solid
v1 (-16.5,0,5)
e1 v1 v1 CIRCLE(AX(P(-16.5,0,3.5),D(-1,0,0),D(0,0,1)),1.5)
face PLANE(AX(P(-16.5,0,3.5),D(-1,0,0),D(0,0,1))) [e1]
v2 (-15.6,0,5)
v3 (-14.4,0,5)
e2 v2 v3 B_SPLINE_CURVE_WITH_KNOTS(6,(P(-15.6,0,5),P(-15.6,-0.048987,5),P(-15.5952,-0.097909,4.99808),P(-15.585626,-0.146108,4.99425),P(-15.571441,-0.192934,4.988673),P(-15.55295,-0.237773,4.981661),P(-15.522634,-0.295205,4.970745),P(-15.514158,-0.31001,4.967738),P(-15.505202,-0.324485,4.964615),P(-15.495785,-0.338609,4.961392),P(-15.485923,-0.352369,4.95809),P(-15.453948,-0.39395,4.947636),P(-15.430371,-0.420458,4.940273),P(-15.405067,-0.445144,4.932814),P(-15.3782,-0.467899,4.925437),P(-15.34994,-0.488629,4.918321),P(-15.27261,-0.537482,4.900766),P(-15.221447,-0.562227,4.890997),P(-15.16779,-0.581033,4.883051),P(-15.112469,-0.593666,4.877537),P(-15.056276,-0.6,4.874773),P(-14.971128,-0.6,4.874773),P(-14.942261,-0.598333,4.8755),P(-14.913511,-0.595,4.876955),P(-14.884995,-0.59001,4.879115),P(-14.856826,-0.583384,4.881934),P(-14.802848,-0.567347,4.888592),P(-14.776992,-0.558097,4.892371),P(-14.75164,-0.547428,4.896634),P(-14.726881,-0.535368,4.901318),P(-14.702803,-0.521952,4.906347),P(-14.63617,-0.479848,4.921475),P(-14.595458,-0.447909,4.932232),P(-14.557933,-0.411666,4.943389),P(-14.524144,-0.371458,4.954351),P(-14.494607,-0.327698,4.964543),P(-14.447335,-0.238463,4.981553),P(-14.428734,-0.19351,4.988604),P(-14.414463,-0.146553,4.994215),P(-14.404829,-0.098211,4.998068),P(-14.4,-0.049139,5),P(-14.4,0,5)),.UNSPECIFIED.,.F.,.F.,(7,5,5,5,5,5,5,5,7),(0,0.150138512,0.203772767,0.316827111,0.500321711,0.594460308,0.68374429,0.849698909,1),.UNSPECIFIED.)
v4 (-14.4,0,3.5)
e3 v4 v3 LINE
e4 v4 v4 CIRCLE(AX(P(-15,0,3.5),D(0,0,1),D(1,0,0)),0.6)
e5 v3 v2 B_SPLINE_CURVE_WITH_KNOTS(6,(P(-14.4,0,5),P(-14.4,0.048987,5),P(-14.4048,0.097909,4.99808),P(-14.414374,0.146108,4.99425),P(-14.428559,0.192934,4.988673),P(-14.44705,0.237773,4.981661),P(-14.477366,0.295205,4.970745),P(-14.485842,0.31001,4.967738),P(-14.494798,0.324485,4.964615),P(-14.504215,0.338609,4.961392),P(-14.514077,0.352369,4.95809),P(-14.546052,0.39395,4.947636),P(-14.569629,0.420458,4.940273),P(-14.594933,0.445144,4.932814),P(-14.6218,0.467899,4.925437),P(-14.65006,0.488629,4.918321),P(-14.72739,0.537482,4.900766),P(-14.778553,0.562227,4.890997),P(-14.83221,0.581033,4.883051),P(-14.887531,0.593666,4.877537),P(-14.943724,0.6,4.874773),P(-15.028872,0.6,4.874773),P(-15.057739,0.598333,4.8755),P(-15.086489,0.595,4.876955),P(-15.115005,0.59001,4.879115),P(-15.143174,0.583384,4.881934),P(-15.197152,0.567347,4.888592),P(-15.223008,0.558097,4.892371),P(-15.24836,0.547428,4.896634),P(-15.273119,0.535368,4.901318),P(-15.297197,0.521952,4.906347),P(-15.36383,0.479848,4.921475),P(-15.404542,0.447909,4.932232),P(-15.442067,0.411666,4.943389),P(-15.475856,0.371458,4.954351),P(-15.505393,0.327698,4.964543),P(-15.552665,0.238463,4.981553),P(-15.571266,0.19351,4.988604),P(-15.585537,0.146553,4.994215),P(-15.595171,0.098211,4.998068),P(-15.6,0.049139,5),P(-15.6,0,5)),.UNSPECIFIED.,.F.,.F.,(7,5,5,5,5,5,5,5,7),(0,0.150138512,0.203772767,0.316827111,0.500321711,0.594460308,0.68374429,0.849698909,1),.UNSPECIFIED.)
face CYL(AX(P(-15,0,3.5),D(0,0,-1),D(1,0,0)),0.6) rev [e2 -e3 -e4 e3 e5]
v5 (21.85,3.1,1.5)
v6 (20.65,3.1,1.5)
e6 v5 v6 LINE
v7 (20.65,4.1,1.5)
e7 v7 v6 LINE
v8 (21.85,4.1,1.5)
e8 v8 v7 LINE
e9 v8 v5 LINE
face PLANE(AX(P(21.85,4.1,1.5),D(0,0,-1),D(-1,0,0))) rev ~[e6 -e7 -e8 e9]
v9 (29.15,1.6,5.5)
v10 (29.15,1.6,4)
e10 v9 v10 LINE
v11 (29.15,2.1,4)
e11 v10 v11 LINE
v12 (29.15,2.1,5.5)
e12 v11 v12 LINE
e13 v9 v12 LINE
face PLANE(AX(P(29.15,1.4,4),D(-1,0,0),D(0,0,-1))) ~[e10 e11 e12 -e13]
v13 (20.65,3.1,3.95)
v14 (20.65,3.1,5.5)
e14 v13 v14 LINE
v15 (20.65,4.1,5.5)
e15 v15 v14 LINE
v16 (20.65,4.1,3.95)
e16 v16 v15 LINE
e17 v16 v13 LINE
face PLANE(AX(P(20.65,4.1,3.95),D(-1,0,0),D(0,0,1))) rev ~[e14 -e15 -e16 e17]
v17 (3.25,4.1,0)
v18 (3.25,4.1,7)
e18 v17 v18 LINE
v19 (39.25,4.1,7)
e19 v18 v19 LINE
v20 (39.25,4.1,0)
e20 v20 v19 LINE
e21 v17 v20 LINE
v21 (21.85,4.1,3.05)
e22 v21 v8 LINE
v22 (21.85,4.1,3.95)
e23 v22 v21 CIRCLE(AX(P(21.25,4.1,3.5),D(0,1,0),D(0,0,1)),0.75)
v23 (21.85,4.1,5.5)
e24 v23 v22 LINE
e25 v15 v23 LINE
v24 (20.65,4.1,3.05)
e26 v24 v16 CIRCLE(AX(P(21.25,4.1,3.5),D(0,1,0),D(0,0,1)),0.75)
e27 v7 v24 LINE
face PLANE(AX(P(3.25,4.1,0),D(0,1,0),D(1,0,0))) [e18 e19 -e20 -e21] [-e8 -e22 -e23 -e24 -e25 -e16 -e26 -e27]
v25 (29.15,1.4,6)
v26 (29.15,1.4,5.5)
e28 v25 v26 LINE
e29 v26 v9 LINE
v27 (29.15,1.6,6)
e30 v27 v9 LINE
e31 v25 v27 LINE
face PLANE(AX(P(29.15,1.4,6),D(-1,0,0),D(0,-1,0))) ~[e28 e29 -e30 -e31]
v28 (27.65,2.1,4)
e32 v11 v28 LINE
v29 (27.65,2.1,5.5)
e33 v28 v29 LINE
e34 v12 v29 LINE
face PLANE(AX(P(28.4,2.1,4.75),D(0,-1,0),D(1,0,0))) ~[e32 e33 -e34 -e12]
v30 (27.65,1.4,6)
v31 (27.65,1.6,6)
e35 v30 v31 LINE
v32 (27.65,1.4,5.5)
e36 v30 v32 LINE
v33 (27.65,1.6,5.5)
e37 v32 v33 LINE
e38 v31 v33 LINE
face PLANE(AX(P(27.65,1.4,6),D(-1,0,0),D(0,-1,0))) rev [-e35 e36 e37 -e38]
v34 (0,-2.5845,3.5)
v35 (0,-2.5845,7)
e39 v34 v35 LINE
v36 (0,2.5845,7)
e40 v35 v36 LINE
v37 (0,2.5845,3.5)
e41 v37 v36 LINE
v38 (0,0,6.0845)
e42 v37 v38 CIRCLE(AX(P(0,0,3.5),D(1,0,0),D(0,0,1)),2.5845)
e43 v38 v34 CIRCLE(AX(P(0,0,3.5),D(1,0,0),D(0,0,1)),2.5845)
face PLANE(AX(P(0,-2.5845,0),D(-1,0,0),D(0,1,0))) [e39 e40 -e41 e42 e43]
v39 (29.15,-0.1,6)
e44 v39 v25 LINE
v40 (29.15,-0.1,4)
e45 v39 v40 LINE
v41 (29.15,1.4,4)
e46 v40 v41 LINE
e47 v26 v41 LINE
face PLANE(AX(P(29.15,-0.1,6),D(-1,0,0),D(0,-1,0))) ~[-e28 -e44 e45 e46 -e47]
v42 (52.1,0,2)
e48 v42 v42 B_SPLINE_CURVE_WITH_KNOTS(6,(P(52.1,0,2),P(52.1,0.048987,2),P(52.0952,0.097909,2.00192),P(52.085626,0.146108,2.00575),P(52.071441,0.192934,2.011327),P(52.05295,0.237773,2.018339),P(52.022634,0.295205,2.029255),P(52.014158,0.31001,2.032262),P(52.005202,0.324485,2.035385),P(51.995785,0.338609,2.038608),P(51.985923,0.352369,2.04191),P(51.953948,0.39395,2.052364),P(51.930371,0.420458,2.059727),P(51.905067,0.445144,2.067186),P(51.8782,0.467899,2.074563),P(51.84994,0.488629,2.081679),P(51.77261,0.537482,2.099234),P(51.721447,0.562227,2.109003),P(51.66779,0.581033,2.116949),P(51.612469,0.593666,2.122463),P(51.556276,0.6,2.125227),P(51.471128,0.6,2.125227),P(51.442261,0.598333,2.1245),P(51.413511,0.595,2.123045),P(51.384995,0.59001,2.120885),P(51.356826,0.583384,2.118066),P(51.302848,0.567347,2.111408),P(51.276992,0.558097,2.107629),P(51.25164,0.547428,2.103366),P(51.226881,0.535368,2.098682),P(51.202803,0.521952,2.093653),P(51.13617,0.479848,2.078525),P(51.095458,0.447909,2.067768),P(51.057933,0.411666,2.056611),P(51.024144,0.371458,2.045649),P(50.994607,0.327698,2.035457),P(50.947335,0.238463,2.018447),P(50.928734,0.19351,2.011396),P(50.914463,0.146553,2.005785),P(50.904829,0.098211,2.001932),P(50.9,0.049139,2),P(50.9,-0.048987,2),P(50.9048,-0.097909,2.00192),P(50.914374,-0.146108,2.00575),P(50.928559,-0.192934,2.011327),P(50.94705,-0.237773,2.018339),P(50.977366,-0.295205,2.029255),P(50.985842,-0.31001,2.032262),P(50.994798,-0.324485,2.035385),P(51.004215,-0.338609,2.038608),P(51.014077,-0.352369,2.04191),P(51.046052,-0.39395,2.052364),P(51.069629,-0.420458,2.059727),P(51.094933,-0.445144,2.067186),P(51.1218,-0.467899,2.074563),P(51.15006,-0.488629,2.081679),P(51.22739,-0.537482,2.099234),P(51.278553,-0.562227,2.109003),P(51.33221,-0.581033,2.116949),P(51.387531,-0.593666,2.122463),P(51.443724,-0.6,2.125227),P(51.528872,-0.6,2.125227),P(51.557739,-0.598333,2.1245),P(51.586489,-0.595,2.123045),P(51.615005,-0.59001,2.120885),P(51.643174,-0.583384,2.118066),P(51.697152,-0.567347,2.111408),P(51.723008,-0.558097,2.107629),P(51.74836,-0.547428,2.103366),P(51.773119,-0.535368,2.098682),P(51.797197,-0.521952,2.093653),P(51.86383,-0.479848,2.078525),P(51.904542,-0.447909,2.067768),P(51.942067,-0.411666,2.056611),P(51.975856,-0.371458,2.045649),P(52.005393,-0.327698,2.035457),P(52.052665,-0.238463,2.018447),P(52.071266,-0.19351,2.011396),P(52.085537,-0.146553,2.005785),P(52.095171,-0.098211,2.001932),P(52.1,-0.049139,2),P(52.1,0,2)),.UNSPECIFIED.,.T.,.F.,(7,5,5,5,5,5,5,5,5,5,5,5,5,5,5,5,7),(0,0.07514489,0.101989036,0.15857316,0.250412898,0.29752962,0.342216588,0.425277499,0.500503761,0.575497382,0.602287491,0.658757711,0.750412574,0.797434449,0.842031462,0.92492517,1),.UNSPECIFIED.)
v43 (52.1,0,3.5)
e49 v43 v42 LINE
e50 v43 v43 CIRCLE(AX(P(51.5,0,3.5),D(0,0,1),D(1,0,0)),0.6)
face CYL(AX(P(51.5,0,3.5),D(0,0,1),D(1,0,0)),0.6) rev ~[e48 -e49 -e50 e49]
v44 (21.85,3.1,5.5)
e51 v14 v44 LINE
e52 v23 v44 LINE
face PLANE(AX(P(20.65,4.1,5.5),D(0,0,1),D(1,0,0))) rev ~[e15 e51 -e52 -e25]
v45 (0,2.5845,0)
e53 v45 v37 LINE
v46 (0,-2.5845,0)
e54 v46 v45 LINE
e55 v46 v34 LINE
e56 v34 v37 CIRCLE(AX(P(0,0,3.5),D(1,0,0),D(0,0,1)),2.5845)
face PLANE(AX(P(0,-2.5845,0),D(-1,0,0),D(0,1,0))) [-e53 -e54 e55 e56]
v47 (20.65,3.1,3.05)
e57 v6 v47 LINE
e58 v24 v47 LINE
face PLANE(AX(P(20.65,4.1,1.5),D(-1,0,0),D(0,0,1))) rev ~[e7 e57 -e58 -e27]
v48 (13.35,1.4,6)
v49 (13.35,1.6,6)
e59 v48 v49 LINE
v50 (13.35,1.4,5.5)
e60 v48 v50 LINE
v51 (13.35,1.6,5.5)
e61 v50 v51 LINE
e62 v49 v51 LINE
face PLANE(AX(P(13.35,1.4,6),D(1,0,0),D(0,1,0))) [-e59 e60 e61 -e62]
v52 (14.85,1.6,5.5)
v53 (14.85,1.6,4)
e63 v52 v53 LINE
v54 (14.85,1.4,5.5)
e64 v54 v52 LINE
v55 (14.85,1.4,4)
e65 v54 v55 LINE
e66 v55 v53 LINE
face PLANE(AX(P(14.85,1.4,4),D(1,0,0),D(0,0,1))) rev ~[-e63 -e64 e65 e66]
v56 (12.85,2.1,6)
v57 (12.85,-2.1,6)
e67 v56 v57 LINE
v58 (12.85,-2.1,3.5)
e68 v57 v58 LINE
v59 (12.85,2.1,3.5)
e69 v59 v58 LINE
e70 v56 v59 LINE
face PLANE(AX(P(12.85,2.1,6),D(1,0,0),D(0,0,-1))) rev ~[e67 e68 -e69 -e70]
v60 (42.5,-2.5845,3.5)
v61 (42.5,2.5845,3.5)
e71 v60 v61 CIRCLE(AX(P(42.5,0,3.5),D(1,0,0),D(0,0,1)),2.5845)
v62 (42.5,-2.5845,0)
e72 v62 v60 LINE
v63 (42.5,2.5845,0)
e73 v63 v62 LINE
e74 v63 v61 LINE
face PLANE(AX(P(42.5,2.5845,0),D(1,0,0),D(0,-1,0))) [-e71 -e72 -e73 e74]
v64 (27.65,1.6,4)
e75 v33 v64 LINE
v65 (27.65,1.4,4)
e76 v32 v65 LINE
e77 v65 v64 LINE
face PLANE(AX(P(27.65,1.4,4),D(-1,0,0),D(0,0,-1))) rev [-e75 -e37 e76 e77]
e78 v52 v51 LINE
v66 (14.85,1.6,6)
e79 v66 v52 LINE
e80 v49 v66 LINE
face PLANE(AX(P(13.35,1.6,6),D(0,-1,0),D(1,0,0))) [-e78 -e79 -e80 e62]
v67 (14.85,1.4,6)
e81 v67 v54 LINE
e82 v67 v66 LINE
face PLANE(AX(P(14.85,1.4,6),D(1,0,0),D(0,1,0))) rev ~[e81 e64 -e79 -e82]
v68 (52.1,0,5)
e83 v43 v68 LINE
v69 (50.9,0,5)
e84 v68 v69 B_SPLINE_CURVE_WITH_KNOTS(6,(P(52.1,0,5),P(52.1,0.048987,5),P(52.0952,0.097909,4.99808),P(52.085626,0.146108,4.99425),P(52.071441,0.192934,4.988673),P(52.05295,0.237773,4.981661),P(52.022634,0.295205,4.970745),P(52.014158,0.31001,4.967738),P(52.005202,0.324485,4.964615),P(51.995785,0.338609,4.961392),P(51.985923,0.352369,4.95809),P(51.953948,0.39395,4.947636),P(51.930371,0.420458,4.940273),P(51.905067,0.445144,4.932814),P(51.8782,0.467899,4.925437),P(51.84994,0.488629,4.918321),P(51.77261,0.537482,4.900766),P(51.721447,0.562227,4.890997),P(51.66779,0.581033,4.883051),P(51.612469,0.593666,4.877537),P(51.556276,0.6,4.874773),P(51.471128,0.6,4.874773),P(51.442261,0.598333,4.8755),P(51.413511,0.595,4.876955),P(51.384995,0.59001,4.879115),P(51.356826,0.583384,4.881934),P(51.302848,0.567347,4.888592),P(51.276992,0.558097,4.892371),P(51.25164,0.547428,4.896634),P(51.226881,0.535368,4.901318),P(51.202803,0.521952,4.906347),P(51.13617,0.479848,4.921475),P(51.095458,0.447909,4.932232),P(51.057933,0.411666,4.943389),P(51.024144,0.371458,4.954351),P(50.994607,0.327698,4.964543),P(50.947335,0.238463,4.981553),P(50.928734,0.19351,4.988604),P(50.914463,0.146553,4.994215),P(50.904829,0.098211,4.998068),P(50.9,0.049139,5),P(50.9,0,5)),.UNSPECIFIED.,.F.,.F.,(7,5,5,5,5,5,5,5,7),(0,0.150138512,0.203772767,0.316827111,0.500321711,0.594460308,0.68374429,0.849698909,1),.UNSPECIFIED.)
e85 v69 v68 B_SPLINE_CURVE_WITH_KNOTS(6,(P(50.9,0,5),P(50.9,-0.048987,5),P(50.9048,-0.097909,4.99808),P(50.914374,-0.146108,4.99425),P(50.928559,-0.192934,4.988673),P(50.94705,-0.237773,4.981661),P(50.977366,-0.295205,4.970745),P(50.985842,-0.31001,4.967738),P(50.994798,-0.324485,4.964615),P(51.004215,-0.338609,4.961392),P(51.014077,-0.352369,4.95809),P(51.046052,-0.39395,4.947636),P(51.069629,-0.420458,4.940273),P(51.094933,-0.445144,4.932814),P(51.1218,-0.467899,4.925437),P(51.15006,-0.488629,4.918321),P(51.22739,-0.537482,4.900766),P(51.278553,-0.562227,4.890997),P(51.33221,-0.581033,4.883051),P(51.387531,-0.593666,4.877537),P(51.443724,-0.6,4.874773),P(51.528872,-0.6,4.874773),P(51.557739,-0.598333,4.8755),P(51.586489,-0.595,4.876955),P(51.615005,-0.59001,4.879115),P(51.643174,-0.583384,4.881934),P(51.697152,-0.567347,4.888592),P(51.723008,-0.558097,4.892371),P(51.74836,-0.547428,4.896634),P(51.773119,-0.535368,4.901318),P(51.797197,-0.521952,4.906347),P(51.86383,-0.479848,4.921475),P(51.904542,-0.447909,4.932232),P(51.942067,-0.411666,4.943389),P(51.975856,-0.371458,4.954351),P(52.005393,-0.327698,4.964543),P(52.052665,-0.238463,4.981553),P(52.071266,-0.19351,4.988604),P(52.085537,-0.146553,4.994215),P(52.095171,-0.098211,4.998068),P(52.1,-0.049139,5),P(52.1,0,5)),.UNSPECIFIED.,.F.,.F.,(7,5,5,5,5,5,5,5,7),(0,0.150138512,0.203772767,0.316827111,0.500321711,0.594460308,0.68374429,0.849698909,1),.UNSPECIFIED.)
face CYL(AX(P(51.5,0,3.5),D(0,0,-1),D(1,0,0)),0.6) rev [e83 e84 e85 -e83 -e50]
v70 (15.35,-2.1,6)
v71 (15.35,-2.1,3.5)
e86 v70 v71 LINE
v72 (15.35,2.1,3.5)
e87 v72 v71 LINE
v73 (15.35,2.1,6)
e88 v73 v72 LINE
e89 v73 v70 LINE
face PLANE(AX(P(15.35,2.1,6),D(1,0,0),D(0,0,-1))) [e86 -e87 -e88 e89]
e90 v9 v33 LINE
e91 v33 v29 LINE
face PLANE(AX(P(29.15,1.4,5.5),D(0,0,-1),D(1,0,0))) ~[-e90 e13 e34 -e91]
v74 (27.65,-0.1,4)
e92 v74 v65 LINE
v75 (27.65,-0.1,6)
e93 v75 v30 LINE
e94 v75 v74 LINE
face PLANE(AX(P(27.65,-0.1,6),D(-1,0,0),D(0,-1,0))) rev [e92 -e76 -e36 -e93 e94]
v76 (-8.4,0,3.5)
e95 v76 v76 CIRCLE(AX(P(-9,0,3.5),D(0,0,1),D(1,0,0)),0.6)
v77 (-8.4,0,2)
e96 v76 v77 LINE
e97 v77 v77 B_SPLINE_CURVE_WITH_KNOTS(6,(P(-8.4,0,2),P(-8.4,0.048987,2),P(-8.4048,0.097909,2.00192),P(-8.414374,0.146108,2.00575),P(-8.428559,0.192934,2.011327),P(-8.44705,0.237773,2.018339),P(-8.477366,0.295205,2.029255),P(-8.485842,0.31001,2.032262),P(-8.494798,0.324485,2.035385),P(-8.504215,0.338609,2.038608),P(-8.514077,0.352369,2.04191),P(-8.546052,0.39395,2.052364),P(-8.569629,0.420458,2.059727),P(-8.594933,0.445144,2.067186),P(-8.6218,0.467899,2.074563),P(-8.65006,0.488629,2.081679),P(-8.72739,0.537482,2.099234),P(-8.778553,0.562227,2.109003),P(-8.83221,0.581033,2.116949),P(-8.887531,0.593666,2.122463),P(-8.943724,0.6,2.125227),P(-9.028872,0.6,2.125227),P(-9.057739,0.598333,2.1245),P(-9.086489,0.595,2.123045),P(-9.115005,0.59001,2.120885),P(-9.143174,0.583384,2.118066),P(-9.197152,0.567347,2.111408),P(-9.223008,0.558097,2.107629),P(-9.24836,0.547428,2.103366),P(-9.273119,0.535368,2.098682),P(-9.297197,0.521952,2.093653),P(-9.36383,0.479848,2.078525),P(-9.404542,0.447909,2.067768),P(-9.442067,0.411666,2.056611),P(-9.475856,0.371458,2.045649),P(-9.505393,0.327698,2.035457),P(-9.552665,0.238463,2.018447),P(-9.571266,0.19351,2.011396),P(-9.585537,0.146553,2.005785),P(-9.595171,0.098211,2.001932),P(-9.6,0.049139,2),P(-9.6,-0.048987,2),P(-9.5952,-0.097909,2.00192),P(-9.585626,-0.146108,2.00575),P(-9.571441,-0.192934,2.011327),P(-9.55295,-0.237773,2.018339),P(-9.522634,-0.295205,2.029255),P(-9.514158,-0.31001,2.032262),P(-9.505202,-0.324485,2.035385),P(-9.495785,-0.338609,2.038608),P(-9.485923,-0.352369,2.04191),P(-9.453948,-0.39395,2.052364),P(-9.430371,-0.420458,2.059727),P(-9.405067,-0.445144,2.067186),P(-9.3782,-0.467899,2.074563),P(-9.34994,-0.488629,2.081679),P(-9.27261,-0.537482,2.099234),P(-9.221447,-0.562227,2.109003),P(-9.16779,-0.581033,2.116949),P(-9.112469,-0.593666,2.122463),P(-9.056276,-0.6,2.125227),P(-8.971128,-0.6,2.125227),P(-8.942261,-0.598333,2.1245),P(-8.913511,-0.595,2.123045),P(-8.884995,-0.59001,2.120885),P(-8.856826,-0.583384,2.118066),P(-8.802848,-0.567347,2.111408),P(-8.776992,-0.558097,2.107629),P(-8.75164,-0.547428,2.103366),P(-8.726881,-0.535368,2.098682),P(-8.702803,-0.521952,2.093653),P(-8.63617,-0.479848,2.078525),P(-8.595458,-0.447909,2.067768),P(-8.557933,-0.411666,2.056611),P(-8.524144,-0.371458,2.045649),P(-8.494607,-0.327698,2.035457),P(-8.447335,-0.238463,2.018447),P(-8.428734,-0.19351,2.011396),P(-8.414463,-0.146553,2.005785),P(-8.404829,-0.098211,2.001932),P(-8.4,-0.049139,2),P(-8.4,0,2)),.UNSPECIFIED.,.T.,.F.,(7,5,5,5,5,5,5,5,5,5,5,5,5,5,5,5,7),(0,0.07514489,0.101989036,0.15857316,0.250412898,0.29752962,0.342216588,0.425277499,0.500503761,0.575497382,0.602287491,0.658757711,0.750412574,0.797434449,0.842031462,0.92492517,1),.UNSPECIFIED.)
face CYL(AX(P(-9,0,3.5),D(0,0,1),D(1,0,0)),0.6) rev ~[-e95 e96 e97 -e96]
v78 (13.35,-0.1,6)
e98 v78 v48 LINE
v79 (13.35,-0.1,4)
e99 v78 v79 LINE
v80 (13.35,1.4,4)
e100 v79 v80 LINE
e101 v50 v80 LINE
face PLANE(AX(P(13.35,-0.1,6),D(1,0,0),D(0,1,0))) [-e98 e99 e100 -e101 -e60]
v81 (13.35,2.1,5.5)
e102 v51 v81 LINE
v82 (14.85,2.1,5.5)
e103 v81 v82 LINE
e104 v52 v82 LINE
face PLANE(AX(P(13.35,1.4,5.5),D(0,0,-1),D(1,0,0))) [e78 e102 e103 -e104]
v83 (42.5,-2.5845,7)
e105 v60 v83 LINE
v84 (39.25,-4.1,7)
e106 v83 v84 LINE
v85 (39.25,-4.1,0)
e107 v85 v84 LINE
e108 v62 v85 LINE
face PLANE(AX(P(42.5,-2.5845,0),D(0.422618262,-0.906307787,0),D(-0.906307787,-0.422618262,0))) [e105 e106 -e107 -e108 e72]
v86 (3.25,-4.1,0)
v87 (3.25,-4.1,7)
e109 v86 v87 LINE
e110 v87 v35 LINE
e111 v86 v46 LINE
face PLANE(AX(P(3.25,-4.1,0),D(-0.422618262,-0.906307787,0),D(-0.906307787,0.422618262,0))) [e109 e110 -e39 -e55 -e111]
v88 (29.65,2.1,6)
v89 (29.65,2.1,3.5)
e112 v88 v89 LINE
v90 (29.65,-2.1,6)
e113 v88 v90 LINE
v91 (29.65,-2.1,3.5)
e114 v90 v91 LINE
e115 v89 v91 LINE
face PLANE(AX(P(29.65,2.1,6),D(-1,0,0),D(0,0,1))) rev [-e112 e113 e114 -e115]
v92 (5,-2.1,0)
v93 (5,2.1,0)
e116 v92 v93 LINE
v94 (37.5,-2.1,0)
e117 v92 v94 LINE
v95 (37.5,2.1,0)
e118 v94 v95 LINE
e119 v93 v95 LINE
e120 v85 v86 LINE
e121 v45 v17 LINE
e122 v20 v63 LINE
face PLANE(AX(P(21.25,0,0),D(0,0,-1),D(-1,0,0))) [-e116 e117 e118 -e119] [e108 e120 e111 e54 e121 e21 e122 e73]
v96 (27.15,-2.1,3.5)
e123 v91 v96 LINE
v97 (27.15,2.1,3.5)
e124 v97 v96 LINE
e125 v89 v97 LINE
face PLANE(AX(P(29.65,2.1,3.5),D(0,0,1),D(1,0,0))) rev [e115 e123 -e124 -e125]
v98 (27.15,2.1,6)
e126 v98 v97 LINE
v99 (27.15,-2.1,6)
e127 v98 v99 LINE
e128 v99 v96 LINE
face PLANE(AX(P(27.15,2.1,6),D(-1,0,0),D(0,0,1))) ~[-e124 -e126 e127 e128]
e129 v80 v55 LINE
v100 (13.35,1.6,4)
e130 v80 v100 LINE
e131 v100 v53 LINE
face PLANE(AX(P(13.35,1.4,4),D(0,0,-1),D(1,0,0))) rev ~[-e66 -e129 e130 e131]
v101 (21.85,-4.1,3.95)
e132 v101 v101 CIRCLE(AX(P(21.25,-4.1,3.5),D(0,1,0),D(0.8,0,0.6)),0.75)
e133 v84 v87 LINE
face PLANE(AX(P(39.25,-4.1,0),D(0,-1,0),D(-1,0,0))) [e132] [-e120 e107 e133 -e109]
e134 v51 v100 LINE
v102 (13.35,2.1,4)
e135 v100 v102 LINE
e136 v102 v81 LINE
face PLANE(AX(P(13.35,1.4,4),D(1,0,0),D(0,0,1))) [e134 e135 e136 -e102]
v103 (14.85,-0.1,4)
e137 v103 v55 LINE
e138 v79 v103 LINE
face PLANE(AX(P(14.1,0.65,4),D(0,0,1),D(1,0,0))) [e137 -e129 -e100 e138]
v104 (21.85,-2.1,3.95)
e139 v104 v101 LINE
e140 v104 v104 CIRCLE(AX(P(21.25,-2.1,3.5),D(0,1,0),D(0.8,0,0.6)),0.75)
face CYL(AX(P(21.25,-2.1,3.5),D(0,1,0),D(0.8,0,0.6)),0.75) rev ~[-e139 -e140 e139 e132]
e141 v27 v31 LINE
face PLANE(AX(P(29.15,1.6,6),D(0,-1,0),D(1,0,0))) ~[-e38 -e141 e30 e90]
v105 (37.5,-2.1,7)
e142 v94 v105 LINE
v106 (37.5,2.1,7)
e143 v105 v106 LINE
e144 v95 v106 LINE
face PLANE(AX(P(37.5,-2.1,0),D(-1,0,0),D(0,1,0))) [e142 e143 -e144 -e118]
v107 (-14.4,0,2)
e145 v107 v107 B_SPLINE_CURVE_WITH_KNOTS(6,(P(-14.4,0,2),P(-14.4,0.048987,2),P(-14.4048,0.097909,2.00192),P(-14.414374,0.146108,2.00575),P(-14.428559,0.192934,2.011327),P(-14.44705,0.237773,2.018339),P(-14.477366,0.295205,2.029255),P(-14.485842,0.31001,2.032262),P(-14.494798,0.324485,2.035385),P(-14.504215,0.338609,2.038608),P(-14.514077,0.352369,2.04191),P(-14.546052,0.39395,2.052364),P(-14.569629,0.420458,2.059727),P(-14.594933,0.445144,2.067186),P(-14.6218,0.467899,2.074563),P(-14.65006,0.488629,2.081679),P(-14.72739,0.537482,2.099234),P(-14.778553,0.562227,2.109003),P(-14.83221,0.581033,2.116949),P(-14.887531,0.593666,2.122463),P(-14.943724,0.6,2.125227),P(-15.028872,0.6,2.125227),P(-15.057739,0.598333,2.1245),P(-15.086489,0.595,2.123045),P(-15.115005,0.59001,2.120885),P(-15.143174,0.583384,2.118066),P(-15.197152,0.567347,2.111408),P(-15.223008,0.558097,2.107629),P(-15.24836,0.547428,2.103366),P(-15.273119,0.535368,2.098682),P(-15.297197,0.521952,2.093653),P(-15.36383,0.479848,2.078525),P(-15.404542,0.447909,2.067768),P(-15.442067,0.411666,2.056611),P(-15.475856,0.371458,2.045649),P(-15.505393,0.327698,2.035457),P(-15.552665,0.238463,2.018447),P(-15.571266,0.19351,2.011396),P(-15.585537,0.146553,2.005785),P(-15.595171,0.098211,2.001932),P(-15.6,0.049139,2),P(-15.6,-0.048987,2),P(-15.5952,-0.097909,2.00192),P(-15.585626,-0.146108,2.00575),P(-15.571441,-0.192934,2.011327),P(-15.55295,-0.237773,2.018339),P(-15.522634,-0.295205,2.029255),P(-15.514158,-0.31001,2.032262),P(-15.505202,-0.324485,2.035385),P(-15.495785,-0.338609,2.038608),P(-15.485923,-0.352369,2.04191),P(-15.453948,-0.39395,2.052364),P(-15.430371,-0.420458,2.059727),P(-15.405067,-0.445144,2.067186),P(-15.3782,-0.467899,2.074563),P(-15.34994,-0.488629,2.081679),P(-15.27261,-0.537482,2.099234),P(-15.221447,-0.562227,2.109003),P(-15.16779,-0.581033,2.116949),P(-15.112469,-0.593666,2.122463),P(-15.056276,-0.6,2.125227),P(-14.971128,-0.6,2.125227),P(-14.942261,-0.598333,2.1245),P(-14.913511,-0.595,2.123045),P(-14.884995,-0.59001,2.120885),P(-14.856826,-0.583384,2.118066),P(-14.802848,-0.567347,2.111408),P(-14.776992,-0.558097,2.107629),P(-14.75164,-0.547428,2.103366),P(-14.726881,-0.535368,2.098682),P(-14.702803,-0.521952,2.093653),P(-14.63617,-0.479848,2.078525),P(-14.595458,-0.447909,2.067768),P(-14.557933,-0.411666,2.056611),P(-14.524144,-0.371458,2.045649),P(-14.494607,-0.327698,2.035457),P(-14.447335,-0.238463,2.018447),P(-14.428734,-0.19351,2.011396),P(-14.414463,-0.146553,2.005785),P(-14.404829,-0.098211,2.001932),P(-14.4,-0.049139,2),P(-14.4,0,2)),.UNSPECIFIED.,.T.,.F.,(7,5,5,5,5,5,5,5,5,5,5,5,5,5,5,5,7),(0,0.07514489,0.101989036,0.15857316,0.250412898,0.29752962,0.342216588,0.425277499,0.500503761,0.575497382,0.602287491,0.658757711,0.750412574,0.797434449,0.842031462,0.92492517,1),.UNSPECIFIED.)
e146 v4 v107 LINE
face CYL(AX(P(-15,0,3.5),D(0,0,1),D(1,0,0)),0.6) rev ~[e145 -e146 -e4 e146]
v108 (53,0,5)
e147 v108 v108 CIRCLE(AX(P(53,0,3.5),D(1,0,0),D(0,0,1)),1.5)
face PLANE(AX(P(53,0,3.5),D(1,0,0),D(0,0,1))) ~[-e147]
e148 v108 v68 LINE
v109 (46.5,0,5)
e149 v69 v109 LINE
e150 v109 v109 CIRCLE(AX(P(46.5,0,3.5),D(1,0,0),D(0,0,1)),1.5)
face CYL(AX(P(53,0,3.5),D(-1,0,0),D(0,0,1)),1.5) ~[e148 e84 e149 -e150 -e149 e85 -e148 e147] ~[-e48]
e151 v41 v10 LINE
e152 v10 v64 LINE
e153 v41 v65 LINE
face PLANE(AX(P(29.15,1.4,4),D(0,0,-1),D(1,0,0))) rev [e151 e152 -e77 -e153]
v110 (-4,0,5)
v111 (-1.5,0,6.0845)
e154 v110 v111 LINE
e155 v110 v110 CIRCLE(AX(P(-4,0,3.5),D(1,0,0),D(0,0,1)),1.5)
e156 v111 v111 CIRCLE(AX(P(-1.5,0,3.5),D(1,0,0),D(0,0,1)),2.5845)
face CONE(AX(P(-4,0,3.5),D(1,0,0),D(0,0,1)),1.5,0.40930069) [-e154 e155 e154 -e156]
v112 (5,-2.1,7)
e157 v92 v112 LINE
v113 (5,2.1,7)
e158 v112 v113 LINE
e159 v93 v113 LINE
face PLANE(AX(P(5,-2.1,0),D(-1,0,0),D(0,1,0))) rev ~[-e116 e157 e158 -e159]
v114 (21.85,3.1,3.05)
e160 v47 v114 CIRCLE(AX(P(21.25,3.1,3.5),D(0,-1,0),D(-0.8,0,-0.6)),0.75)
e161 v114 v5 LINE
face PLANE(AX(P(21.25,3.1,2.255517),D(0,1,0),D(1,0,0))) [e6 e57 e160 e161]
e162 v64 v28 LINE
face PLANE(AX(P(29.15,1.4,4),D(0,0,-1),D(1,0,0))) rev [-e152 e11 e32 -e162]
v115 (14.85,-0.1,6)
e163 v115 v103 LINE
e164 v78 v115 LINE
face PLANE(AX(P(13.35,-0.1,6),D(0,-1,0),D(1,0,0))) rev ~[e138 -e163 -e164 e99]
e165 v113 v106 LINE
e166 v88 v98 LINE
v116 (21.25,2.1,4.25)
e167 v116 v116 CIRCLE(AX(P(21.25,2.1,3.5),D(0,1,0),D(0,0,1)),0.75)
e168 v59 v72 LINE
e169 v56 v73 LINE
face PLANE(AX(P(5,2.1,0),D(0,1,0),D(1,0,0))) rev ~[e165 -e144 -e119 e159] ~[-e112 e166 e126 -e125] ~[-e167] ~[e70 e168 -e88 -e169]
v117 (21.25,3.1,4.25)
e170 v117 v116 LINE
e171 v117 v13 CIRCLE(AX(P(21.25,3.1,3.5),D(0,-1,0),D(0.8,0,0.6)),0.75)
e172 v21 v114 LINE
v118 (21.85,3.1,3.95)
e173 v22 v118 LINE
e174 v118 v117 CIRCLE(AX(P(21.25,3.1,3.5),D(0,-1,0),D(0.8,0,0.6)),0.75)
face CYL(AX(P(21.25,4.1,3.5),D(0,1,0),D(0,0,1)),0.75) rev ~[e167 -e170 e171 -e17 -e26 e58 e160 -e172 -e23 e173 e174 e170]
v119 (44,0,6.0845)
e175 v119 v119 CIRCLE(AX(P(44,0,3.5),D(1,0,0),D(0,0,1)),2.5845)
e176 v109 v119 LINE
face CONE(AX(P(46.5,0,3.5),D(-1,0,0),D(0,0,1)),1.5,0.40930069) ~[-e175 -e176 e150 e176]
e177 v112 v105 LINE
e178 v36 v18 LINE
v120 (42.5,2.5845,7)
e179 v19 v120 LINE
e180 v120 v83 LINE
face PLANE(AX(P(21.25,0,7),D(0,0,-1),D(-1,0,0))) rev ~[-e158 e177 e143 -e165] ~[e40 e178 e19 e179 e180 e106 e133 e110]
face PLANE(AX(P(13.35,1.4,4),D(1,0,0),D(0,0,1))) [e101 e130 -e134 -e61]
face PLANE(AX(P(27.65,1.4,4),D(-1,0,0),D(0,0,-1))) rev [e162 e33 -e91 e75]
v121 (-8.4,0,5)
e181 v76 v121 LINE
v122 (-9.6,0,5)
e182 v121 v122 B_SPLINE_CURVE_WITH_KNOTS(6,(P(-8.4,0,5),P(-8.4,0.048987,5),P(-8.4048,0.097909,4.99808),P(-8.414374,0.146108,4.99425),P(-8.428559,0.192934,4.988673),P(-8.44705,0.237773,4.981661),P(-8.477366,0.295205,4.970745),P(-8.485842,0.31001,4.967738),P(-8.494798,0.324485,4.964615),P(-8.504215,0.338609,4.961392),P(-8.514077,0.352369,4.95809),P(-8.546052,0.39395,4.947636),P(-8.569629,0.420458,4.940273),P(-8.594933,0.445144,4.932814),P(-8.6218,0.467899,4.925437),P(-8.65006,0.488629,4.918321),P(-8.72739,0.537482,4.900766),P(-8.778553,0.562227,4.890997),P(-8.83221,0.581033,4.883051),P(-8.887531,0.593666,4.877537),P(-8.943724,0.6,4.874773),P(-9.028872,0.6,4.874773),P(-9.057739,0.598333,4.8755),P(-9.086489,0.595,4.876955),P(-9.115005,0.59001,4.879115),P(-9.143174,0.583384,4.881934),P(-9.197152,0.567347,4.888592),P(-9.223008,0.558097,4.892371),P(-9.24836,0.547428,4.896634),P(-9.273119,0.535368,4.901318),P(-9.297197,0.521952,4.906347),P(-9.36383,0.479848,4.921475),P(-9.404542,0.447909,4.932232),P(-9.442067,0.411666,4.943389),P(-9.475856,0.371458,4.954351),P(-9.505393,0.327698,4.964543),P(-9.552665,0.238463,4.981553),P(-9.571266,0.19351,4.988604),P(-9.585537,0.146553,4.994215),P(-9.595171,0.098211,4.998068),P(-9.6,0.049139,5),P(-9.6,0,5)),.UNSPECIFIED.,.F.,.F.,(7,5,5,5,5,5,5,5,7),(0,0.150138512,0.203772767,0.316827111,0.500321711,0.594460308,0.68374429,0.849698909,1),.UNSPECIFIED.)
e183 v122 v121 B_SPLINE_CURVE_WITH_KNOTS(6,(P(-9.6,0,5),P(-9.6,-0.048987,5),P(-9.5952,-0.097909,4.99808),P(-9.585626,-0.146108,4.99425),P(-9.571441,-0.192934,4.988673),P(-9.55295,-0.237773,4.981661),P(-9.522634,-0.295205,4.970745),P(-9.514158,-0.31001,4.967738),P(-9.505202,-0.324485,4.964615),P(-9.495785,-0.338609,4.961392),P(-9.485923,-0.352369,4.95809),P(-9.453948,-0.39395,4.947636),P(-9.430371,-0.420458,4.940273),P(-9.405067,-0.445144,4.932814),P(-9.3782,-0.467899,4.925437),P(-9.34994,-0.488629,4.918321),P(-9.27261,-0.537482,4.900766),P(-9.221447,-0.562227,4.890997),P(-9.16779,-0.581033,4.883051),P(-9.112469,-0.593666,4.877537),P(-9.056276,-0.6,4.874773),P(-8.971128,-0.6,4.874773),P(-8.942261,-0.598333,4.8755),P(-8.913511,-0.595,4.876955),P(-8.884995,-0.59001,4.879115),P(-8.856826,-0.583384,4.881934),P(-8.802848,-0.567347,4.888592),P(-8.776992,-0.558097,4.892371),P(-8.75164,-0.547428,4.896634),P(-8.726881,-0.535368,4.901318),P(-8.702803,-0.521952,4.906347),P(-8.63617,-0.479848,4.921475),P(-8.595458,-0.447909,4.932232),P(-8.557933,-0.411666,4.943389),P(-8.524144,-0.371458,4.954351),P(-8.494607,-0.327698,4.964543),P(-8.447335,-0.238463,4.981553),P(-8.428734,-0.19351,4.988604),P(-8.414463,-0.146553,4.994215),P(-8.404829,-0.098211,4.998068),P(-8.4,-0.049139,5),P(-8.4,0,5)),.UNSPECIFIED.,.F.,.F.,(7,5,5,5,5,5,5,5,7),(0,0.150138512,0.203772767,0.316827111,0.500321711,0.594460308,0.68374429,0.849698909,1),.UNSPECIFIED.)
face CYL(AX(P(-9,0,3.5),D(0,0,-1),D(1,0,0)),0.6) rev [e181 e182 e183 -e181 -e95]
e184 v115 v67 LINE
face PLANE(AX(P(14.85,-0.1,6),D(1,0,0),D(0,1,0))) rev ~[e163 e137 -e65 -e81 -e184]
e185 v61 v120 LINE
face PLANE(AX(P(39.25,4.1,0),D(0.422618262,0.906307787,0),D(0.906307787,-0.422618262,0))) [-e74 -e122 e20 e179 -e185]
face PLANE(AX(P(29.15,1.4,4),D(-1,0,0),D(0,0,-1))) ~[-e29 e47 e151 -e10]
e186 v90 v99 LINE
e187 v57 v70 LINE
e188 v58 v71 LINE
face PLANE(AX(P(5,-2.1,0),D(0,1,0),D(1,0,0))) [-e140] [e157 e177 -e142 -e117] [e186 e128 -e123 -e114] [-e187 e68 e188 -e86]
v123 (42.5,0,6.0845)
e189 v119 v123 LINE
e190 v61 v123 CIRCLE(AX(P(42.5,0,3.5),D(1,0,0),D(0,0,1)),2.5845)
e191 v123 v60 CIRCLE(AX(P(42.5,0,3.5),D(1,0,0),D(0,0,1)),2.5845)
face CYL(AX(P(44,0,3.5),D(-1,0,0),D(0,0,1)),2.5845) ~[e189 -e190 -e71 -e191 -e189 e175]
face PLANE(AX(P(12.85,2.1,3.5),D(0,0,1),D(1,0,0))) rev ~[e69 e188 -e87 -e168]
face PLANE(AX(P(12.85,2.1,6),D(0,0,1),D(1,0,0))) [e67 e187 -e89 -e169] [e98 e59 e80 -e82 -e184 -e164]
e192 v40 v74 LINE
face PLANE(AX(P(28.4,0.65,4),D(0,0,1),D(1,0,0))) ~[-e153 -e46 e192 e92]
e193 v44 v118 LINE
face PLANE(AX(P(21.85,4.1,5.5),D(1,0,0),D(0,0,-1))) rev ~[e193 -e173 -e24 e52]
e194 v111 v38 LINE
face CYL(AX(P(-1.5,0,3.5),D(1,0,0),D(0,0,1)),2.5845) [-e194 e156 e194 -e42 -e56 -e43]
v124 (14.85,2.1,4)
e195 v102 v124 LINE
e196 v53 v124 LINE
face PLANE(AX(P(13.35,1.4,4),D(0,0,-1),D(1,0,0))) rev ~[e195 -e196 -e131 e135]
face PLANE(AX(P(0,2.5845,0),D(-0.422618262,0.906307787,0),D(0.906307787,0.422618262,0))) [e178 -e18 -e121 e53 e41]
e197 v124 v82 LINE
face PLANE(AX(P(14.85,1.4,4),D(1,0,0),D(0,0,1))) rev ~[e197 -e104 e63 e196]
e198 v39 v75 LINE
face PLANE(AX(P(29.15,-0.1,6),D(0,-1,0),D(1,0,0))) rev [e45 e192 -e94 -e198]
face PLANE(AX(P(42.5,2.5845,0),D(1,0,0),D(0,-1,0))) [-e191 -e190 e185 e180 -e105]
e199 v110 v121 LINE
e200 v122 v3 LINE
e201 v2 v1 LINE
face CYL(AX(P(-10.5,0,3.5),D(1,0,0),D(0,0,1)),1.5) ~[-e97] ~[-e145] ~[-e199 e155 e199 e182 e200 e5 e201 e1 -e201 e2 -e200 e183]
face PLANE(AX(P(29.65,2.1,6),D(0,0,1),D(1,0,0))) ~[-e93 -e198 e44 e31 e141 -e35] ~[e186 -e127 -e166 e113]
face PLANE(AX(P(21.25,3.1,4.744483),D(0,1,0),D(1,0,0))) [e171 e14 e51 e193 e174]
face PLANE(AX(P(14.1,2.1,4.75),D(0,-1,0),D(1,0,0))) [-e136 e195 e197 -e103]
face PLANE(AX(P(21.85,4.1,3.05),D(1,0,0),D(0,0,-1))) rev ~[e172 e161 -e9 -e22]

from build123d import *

# Parameters (mm, degrees)
SKETCH1_W                   = 32.5
SKETCH1_H                   = 4.2
BASEFORM_DEPTH              = 7
SKETCH2_R                   = 0.75
HUMERUSAXLEHOLE1_DEPTH      = 2
HUMERUSAXLELOCK_DEPTH       = 1
SKETCH6_R                   = 1.5
AXLEEXTENSION_DEPTH         = 6
SKETCH7_R                   = 0.6
SCREWHOLES_DEPTH            = 54.273445543
SCREWHOLES_DEPTH_BACK       = 54.273445543
SKETCH8_W                   = 2.5
SKETCH8_H                   = 2.5
HUMERUSTUBEHOLDERBASE_DEPTH = 4.2
SKETCH13_W                  = 1.5
SKETCH13_H                  = 1.5
TUBECLIPENTRANCE_DEPTH      = 2
SKETCH14_W                  = 1.5
SKETCH14_H                  = 1.5
CABLECLIPLOCKSLOT_DEPTH     = 0.7
SKETCH15_W                  = 1.5
SKETCH15_H                  = 0.2
TUBECLIPLOCKCLEARANCE_DEPTH = 2
SKETCH12_R                  = 0.75
HUMERUSAXLEHOLE2_DEPTH      = 54.818584249


with BuildPart() as part:
    # Sketch1 → BaseForm (new body)
    with BuildSketch(Plane.XY):
        Polygon((0, -2.584500111), (0, 2.584500111), (3.25, 4.1), (39.25, 4.1), (42.5, 2.584500111), (42.5, -2.584500111), (39.25, -4.1), (3.25, -4.1), align=None)
        with Locations((21.25, 0)):
            Rectangle(SKETCH1_W, SKETCH1_H, mode=Mode.SUBTRACT)
    extrude(amount=BASEFORM_DEPTH)

    # Sketch2 → HumerusAxleHole1 (cut)
    with BuildSketch(Plane(origin=(0, 4.1, 0), x_dir=(1, 0, 0), z_dir=(0, 1, 0))):
        with Locations(Location((21.25, -3.5, 0), (0, 0, 270))):
            Circle(SKETCH2_R)
    extrude(amount=-HUMERUSAXLEHOLE1_DEPTH, mode=Mode.SUBTRACT)

    # Sketch2_4 → HumerusAxleLock (cut)
    with BuildSketch(Plane(origin=(0, 4.1, 0), x_dir=(1, 0, 0), z_dir=(0, 1, 0))):
        with BuildLine():
            ThreePointArc((20.65, -3.05), (21.25, -2.75), (21.85, -3.05))
            Line((21.85, -3.05), (21.85, -1.5))
            Line((21.85, -1.5), (20.65, -1.5))
            Line((20.65, -1.5), (20.65, -3.05))
        make_face()
        with BuildLine():
            Line((21.85, -5.5), (21.85, -3.95))
            ThreePointArc((21.85, -3.95), (21.25, -4.25), (20.65, -3.95))
            Line((20.65, -3.95), (20.65, -5.5))
            Line((20.65, -5.5), (21.85, -5.5))
        make_face()
    extrude(amount=-HUMERUSAXLELOCK_DEPTH, mode=Mode.SUBTRACT)

    # Sketch5 → Axle (revolve)
    with BuildSketch(Plane.XY.offset(3.5), mode=Mode.PRIVATE) as axle_sk:
        Polygon((53, 0), (53, 1.5), (46.5, 1.5), (44, 2.584500111), (42.5, 2.584500111), (42.5, 0), align=None)
    axle = revolve(axle_sk.sketch.rotate(Axis((42.5, 0, 3.5), (1, 0, 0)), 90), axis=Axis((42.5, 0, 3.5), (1, 0, 0)))

    # Axle2: Axle across plane
    add(axle.mirror(Plane.ZY.offset(-21.25)))

    # Sketch6 → AxleExtension (add)
    with BuildSketch(Plane.ZY.offset(10.5)):
        with Locations((3.5, 0)):
            Circle(SKETCH6_R)
    extrude(amount=AXLEEXTENSION_DEPTH)

    # Sketch7 → ScrewHoles (cut, two sides)
    with BuildSketch(Plane.XY.offset(3.5)) as screwholes_sk:
        with Locations((-9, 0)):
            Circle(SKETCH7_R)
        with Locations((-15, 0)):
            Circle(SKETCH7_R)
        with Locations((51.5, 0)):
            Circle(SKETCH7_R)
    extrude(amount=SCREWHOLES_DEPTH, mode=Mode.SUBTRACT)
    extrude(screwholes_sk.sketch, amount=-SCREWHOLES_DEPTH_BACK, mode=Mode.SUBTRACT)

    # Sketch8 → HumerusTubeHolderBase (add)
    with BuildSketch(Plane(origin=(0, 2.1, 0), x_dir=(1, 0, 0), z_dir=(0, 1, 0))):
        with Locations((14.1, -4.75)):
            Rectangle(SKETCH8_W, SKETCH8_H)
    humerustubeholderbase = extrude(amount=-HUMERUSTUBEHOLDERBASE_DEPTH)

    # Sketch13 → TubeClipEntrance (cut)
    with BuildSketch(Plane.XY.offset(6)):
        with Locations((14.1, 0.65)):
            Rectangle(SKETCH13_W, SKETCH13_H)
    tubeclipentrance = extrude(amount=-TUBECLIPENTRANCE_DEPTH, mode=Mode.SUBTRACT)

    # Sketch14 → CableClipLockSlot (cut)
    with BuildSketch(Plane.XZ.offset(-1.4)):
        with Locations((14.1, 4.75)):
            Rectangle(SKETCH14_W, SKETCH14_H)
    cablecliplockslot = extrude(amount=-CABLECLIPLOCKSLOT_DEPTH, mode=Mode.SUBTRACT)

    # Sketch15 → TubeClipLockClearance (cut)
    with BuildSketch(Plane.XY.offset(6)):
        with Locations((14.1, 1.5)):
            Rectangle(SKETCH15_W, SKETCH15_H)
    tubecliplockclearance = extrude(amount=-TUBECLIPLOCKCLEARANCE_DEPTH, mode=Mode.SUBTRACT)

    # Sketch12 → HumerusAxleHole2 (cut, through all)
    with BuildSketch(Plane(origin=(0, -2.1, 0), x_dir=(1, 0, 0), z_dir=(0, 1, 0))):
        with Locations(Location((21.25, -3.5, 0), (0, 0, 323.130102354))):
            Circle(SKETCH12_R)
    extrude(amount=-HUMERUSAXLEHOLE2_DEPTH, mode=Mode.SUBTRACT)

    # TubeClipSlot2: HumerusTubeHolderBase, TubeClipEntrance, CableClipLockSlot, TubeClipLockClearance across plane
    add(humerustubeholderbase.mirror(Plane(origin=(21.25, 0, 0), x_dir=(0, 0, 1), z_dir=(1, 0, 0))))
    add(tubeclipentrance.mirror(Plane(origin=(21.25, 0, 0), x_dir=(0, 0, 1), z_dir=(1, 0, 0))), mode=Mode.SUBTRACT)
    add(cablecliplockslot.mirror(Plane(origin=(21.25, 0, 0), x_dir=(0, 0, 1), z_dir=(1, 0, 0))), mode=Mode.SUBTRACT)
    add(tubecliplockclearance.mirror(Plane(origin=(21.25, 0, 0), x_dir=(0, 0, 1), z_dir=(1, 0, 0))), mode=Mode.SUBTRACT)


solid = part.part
